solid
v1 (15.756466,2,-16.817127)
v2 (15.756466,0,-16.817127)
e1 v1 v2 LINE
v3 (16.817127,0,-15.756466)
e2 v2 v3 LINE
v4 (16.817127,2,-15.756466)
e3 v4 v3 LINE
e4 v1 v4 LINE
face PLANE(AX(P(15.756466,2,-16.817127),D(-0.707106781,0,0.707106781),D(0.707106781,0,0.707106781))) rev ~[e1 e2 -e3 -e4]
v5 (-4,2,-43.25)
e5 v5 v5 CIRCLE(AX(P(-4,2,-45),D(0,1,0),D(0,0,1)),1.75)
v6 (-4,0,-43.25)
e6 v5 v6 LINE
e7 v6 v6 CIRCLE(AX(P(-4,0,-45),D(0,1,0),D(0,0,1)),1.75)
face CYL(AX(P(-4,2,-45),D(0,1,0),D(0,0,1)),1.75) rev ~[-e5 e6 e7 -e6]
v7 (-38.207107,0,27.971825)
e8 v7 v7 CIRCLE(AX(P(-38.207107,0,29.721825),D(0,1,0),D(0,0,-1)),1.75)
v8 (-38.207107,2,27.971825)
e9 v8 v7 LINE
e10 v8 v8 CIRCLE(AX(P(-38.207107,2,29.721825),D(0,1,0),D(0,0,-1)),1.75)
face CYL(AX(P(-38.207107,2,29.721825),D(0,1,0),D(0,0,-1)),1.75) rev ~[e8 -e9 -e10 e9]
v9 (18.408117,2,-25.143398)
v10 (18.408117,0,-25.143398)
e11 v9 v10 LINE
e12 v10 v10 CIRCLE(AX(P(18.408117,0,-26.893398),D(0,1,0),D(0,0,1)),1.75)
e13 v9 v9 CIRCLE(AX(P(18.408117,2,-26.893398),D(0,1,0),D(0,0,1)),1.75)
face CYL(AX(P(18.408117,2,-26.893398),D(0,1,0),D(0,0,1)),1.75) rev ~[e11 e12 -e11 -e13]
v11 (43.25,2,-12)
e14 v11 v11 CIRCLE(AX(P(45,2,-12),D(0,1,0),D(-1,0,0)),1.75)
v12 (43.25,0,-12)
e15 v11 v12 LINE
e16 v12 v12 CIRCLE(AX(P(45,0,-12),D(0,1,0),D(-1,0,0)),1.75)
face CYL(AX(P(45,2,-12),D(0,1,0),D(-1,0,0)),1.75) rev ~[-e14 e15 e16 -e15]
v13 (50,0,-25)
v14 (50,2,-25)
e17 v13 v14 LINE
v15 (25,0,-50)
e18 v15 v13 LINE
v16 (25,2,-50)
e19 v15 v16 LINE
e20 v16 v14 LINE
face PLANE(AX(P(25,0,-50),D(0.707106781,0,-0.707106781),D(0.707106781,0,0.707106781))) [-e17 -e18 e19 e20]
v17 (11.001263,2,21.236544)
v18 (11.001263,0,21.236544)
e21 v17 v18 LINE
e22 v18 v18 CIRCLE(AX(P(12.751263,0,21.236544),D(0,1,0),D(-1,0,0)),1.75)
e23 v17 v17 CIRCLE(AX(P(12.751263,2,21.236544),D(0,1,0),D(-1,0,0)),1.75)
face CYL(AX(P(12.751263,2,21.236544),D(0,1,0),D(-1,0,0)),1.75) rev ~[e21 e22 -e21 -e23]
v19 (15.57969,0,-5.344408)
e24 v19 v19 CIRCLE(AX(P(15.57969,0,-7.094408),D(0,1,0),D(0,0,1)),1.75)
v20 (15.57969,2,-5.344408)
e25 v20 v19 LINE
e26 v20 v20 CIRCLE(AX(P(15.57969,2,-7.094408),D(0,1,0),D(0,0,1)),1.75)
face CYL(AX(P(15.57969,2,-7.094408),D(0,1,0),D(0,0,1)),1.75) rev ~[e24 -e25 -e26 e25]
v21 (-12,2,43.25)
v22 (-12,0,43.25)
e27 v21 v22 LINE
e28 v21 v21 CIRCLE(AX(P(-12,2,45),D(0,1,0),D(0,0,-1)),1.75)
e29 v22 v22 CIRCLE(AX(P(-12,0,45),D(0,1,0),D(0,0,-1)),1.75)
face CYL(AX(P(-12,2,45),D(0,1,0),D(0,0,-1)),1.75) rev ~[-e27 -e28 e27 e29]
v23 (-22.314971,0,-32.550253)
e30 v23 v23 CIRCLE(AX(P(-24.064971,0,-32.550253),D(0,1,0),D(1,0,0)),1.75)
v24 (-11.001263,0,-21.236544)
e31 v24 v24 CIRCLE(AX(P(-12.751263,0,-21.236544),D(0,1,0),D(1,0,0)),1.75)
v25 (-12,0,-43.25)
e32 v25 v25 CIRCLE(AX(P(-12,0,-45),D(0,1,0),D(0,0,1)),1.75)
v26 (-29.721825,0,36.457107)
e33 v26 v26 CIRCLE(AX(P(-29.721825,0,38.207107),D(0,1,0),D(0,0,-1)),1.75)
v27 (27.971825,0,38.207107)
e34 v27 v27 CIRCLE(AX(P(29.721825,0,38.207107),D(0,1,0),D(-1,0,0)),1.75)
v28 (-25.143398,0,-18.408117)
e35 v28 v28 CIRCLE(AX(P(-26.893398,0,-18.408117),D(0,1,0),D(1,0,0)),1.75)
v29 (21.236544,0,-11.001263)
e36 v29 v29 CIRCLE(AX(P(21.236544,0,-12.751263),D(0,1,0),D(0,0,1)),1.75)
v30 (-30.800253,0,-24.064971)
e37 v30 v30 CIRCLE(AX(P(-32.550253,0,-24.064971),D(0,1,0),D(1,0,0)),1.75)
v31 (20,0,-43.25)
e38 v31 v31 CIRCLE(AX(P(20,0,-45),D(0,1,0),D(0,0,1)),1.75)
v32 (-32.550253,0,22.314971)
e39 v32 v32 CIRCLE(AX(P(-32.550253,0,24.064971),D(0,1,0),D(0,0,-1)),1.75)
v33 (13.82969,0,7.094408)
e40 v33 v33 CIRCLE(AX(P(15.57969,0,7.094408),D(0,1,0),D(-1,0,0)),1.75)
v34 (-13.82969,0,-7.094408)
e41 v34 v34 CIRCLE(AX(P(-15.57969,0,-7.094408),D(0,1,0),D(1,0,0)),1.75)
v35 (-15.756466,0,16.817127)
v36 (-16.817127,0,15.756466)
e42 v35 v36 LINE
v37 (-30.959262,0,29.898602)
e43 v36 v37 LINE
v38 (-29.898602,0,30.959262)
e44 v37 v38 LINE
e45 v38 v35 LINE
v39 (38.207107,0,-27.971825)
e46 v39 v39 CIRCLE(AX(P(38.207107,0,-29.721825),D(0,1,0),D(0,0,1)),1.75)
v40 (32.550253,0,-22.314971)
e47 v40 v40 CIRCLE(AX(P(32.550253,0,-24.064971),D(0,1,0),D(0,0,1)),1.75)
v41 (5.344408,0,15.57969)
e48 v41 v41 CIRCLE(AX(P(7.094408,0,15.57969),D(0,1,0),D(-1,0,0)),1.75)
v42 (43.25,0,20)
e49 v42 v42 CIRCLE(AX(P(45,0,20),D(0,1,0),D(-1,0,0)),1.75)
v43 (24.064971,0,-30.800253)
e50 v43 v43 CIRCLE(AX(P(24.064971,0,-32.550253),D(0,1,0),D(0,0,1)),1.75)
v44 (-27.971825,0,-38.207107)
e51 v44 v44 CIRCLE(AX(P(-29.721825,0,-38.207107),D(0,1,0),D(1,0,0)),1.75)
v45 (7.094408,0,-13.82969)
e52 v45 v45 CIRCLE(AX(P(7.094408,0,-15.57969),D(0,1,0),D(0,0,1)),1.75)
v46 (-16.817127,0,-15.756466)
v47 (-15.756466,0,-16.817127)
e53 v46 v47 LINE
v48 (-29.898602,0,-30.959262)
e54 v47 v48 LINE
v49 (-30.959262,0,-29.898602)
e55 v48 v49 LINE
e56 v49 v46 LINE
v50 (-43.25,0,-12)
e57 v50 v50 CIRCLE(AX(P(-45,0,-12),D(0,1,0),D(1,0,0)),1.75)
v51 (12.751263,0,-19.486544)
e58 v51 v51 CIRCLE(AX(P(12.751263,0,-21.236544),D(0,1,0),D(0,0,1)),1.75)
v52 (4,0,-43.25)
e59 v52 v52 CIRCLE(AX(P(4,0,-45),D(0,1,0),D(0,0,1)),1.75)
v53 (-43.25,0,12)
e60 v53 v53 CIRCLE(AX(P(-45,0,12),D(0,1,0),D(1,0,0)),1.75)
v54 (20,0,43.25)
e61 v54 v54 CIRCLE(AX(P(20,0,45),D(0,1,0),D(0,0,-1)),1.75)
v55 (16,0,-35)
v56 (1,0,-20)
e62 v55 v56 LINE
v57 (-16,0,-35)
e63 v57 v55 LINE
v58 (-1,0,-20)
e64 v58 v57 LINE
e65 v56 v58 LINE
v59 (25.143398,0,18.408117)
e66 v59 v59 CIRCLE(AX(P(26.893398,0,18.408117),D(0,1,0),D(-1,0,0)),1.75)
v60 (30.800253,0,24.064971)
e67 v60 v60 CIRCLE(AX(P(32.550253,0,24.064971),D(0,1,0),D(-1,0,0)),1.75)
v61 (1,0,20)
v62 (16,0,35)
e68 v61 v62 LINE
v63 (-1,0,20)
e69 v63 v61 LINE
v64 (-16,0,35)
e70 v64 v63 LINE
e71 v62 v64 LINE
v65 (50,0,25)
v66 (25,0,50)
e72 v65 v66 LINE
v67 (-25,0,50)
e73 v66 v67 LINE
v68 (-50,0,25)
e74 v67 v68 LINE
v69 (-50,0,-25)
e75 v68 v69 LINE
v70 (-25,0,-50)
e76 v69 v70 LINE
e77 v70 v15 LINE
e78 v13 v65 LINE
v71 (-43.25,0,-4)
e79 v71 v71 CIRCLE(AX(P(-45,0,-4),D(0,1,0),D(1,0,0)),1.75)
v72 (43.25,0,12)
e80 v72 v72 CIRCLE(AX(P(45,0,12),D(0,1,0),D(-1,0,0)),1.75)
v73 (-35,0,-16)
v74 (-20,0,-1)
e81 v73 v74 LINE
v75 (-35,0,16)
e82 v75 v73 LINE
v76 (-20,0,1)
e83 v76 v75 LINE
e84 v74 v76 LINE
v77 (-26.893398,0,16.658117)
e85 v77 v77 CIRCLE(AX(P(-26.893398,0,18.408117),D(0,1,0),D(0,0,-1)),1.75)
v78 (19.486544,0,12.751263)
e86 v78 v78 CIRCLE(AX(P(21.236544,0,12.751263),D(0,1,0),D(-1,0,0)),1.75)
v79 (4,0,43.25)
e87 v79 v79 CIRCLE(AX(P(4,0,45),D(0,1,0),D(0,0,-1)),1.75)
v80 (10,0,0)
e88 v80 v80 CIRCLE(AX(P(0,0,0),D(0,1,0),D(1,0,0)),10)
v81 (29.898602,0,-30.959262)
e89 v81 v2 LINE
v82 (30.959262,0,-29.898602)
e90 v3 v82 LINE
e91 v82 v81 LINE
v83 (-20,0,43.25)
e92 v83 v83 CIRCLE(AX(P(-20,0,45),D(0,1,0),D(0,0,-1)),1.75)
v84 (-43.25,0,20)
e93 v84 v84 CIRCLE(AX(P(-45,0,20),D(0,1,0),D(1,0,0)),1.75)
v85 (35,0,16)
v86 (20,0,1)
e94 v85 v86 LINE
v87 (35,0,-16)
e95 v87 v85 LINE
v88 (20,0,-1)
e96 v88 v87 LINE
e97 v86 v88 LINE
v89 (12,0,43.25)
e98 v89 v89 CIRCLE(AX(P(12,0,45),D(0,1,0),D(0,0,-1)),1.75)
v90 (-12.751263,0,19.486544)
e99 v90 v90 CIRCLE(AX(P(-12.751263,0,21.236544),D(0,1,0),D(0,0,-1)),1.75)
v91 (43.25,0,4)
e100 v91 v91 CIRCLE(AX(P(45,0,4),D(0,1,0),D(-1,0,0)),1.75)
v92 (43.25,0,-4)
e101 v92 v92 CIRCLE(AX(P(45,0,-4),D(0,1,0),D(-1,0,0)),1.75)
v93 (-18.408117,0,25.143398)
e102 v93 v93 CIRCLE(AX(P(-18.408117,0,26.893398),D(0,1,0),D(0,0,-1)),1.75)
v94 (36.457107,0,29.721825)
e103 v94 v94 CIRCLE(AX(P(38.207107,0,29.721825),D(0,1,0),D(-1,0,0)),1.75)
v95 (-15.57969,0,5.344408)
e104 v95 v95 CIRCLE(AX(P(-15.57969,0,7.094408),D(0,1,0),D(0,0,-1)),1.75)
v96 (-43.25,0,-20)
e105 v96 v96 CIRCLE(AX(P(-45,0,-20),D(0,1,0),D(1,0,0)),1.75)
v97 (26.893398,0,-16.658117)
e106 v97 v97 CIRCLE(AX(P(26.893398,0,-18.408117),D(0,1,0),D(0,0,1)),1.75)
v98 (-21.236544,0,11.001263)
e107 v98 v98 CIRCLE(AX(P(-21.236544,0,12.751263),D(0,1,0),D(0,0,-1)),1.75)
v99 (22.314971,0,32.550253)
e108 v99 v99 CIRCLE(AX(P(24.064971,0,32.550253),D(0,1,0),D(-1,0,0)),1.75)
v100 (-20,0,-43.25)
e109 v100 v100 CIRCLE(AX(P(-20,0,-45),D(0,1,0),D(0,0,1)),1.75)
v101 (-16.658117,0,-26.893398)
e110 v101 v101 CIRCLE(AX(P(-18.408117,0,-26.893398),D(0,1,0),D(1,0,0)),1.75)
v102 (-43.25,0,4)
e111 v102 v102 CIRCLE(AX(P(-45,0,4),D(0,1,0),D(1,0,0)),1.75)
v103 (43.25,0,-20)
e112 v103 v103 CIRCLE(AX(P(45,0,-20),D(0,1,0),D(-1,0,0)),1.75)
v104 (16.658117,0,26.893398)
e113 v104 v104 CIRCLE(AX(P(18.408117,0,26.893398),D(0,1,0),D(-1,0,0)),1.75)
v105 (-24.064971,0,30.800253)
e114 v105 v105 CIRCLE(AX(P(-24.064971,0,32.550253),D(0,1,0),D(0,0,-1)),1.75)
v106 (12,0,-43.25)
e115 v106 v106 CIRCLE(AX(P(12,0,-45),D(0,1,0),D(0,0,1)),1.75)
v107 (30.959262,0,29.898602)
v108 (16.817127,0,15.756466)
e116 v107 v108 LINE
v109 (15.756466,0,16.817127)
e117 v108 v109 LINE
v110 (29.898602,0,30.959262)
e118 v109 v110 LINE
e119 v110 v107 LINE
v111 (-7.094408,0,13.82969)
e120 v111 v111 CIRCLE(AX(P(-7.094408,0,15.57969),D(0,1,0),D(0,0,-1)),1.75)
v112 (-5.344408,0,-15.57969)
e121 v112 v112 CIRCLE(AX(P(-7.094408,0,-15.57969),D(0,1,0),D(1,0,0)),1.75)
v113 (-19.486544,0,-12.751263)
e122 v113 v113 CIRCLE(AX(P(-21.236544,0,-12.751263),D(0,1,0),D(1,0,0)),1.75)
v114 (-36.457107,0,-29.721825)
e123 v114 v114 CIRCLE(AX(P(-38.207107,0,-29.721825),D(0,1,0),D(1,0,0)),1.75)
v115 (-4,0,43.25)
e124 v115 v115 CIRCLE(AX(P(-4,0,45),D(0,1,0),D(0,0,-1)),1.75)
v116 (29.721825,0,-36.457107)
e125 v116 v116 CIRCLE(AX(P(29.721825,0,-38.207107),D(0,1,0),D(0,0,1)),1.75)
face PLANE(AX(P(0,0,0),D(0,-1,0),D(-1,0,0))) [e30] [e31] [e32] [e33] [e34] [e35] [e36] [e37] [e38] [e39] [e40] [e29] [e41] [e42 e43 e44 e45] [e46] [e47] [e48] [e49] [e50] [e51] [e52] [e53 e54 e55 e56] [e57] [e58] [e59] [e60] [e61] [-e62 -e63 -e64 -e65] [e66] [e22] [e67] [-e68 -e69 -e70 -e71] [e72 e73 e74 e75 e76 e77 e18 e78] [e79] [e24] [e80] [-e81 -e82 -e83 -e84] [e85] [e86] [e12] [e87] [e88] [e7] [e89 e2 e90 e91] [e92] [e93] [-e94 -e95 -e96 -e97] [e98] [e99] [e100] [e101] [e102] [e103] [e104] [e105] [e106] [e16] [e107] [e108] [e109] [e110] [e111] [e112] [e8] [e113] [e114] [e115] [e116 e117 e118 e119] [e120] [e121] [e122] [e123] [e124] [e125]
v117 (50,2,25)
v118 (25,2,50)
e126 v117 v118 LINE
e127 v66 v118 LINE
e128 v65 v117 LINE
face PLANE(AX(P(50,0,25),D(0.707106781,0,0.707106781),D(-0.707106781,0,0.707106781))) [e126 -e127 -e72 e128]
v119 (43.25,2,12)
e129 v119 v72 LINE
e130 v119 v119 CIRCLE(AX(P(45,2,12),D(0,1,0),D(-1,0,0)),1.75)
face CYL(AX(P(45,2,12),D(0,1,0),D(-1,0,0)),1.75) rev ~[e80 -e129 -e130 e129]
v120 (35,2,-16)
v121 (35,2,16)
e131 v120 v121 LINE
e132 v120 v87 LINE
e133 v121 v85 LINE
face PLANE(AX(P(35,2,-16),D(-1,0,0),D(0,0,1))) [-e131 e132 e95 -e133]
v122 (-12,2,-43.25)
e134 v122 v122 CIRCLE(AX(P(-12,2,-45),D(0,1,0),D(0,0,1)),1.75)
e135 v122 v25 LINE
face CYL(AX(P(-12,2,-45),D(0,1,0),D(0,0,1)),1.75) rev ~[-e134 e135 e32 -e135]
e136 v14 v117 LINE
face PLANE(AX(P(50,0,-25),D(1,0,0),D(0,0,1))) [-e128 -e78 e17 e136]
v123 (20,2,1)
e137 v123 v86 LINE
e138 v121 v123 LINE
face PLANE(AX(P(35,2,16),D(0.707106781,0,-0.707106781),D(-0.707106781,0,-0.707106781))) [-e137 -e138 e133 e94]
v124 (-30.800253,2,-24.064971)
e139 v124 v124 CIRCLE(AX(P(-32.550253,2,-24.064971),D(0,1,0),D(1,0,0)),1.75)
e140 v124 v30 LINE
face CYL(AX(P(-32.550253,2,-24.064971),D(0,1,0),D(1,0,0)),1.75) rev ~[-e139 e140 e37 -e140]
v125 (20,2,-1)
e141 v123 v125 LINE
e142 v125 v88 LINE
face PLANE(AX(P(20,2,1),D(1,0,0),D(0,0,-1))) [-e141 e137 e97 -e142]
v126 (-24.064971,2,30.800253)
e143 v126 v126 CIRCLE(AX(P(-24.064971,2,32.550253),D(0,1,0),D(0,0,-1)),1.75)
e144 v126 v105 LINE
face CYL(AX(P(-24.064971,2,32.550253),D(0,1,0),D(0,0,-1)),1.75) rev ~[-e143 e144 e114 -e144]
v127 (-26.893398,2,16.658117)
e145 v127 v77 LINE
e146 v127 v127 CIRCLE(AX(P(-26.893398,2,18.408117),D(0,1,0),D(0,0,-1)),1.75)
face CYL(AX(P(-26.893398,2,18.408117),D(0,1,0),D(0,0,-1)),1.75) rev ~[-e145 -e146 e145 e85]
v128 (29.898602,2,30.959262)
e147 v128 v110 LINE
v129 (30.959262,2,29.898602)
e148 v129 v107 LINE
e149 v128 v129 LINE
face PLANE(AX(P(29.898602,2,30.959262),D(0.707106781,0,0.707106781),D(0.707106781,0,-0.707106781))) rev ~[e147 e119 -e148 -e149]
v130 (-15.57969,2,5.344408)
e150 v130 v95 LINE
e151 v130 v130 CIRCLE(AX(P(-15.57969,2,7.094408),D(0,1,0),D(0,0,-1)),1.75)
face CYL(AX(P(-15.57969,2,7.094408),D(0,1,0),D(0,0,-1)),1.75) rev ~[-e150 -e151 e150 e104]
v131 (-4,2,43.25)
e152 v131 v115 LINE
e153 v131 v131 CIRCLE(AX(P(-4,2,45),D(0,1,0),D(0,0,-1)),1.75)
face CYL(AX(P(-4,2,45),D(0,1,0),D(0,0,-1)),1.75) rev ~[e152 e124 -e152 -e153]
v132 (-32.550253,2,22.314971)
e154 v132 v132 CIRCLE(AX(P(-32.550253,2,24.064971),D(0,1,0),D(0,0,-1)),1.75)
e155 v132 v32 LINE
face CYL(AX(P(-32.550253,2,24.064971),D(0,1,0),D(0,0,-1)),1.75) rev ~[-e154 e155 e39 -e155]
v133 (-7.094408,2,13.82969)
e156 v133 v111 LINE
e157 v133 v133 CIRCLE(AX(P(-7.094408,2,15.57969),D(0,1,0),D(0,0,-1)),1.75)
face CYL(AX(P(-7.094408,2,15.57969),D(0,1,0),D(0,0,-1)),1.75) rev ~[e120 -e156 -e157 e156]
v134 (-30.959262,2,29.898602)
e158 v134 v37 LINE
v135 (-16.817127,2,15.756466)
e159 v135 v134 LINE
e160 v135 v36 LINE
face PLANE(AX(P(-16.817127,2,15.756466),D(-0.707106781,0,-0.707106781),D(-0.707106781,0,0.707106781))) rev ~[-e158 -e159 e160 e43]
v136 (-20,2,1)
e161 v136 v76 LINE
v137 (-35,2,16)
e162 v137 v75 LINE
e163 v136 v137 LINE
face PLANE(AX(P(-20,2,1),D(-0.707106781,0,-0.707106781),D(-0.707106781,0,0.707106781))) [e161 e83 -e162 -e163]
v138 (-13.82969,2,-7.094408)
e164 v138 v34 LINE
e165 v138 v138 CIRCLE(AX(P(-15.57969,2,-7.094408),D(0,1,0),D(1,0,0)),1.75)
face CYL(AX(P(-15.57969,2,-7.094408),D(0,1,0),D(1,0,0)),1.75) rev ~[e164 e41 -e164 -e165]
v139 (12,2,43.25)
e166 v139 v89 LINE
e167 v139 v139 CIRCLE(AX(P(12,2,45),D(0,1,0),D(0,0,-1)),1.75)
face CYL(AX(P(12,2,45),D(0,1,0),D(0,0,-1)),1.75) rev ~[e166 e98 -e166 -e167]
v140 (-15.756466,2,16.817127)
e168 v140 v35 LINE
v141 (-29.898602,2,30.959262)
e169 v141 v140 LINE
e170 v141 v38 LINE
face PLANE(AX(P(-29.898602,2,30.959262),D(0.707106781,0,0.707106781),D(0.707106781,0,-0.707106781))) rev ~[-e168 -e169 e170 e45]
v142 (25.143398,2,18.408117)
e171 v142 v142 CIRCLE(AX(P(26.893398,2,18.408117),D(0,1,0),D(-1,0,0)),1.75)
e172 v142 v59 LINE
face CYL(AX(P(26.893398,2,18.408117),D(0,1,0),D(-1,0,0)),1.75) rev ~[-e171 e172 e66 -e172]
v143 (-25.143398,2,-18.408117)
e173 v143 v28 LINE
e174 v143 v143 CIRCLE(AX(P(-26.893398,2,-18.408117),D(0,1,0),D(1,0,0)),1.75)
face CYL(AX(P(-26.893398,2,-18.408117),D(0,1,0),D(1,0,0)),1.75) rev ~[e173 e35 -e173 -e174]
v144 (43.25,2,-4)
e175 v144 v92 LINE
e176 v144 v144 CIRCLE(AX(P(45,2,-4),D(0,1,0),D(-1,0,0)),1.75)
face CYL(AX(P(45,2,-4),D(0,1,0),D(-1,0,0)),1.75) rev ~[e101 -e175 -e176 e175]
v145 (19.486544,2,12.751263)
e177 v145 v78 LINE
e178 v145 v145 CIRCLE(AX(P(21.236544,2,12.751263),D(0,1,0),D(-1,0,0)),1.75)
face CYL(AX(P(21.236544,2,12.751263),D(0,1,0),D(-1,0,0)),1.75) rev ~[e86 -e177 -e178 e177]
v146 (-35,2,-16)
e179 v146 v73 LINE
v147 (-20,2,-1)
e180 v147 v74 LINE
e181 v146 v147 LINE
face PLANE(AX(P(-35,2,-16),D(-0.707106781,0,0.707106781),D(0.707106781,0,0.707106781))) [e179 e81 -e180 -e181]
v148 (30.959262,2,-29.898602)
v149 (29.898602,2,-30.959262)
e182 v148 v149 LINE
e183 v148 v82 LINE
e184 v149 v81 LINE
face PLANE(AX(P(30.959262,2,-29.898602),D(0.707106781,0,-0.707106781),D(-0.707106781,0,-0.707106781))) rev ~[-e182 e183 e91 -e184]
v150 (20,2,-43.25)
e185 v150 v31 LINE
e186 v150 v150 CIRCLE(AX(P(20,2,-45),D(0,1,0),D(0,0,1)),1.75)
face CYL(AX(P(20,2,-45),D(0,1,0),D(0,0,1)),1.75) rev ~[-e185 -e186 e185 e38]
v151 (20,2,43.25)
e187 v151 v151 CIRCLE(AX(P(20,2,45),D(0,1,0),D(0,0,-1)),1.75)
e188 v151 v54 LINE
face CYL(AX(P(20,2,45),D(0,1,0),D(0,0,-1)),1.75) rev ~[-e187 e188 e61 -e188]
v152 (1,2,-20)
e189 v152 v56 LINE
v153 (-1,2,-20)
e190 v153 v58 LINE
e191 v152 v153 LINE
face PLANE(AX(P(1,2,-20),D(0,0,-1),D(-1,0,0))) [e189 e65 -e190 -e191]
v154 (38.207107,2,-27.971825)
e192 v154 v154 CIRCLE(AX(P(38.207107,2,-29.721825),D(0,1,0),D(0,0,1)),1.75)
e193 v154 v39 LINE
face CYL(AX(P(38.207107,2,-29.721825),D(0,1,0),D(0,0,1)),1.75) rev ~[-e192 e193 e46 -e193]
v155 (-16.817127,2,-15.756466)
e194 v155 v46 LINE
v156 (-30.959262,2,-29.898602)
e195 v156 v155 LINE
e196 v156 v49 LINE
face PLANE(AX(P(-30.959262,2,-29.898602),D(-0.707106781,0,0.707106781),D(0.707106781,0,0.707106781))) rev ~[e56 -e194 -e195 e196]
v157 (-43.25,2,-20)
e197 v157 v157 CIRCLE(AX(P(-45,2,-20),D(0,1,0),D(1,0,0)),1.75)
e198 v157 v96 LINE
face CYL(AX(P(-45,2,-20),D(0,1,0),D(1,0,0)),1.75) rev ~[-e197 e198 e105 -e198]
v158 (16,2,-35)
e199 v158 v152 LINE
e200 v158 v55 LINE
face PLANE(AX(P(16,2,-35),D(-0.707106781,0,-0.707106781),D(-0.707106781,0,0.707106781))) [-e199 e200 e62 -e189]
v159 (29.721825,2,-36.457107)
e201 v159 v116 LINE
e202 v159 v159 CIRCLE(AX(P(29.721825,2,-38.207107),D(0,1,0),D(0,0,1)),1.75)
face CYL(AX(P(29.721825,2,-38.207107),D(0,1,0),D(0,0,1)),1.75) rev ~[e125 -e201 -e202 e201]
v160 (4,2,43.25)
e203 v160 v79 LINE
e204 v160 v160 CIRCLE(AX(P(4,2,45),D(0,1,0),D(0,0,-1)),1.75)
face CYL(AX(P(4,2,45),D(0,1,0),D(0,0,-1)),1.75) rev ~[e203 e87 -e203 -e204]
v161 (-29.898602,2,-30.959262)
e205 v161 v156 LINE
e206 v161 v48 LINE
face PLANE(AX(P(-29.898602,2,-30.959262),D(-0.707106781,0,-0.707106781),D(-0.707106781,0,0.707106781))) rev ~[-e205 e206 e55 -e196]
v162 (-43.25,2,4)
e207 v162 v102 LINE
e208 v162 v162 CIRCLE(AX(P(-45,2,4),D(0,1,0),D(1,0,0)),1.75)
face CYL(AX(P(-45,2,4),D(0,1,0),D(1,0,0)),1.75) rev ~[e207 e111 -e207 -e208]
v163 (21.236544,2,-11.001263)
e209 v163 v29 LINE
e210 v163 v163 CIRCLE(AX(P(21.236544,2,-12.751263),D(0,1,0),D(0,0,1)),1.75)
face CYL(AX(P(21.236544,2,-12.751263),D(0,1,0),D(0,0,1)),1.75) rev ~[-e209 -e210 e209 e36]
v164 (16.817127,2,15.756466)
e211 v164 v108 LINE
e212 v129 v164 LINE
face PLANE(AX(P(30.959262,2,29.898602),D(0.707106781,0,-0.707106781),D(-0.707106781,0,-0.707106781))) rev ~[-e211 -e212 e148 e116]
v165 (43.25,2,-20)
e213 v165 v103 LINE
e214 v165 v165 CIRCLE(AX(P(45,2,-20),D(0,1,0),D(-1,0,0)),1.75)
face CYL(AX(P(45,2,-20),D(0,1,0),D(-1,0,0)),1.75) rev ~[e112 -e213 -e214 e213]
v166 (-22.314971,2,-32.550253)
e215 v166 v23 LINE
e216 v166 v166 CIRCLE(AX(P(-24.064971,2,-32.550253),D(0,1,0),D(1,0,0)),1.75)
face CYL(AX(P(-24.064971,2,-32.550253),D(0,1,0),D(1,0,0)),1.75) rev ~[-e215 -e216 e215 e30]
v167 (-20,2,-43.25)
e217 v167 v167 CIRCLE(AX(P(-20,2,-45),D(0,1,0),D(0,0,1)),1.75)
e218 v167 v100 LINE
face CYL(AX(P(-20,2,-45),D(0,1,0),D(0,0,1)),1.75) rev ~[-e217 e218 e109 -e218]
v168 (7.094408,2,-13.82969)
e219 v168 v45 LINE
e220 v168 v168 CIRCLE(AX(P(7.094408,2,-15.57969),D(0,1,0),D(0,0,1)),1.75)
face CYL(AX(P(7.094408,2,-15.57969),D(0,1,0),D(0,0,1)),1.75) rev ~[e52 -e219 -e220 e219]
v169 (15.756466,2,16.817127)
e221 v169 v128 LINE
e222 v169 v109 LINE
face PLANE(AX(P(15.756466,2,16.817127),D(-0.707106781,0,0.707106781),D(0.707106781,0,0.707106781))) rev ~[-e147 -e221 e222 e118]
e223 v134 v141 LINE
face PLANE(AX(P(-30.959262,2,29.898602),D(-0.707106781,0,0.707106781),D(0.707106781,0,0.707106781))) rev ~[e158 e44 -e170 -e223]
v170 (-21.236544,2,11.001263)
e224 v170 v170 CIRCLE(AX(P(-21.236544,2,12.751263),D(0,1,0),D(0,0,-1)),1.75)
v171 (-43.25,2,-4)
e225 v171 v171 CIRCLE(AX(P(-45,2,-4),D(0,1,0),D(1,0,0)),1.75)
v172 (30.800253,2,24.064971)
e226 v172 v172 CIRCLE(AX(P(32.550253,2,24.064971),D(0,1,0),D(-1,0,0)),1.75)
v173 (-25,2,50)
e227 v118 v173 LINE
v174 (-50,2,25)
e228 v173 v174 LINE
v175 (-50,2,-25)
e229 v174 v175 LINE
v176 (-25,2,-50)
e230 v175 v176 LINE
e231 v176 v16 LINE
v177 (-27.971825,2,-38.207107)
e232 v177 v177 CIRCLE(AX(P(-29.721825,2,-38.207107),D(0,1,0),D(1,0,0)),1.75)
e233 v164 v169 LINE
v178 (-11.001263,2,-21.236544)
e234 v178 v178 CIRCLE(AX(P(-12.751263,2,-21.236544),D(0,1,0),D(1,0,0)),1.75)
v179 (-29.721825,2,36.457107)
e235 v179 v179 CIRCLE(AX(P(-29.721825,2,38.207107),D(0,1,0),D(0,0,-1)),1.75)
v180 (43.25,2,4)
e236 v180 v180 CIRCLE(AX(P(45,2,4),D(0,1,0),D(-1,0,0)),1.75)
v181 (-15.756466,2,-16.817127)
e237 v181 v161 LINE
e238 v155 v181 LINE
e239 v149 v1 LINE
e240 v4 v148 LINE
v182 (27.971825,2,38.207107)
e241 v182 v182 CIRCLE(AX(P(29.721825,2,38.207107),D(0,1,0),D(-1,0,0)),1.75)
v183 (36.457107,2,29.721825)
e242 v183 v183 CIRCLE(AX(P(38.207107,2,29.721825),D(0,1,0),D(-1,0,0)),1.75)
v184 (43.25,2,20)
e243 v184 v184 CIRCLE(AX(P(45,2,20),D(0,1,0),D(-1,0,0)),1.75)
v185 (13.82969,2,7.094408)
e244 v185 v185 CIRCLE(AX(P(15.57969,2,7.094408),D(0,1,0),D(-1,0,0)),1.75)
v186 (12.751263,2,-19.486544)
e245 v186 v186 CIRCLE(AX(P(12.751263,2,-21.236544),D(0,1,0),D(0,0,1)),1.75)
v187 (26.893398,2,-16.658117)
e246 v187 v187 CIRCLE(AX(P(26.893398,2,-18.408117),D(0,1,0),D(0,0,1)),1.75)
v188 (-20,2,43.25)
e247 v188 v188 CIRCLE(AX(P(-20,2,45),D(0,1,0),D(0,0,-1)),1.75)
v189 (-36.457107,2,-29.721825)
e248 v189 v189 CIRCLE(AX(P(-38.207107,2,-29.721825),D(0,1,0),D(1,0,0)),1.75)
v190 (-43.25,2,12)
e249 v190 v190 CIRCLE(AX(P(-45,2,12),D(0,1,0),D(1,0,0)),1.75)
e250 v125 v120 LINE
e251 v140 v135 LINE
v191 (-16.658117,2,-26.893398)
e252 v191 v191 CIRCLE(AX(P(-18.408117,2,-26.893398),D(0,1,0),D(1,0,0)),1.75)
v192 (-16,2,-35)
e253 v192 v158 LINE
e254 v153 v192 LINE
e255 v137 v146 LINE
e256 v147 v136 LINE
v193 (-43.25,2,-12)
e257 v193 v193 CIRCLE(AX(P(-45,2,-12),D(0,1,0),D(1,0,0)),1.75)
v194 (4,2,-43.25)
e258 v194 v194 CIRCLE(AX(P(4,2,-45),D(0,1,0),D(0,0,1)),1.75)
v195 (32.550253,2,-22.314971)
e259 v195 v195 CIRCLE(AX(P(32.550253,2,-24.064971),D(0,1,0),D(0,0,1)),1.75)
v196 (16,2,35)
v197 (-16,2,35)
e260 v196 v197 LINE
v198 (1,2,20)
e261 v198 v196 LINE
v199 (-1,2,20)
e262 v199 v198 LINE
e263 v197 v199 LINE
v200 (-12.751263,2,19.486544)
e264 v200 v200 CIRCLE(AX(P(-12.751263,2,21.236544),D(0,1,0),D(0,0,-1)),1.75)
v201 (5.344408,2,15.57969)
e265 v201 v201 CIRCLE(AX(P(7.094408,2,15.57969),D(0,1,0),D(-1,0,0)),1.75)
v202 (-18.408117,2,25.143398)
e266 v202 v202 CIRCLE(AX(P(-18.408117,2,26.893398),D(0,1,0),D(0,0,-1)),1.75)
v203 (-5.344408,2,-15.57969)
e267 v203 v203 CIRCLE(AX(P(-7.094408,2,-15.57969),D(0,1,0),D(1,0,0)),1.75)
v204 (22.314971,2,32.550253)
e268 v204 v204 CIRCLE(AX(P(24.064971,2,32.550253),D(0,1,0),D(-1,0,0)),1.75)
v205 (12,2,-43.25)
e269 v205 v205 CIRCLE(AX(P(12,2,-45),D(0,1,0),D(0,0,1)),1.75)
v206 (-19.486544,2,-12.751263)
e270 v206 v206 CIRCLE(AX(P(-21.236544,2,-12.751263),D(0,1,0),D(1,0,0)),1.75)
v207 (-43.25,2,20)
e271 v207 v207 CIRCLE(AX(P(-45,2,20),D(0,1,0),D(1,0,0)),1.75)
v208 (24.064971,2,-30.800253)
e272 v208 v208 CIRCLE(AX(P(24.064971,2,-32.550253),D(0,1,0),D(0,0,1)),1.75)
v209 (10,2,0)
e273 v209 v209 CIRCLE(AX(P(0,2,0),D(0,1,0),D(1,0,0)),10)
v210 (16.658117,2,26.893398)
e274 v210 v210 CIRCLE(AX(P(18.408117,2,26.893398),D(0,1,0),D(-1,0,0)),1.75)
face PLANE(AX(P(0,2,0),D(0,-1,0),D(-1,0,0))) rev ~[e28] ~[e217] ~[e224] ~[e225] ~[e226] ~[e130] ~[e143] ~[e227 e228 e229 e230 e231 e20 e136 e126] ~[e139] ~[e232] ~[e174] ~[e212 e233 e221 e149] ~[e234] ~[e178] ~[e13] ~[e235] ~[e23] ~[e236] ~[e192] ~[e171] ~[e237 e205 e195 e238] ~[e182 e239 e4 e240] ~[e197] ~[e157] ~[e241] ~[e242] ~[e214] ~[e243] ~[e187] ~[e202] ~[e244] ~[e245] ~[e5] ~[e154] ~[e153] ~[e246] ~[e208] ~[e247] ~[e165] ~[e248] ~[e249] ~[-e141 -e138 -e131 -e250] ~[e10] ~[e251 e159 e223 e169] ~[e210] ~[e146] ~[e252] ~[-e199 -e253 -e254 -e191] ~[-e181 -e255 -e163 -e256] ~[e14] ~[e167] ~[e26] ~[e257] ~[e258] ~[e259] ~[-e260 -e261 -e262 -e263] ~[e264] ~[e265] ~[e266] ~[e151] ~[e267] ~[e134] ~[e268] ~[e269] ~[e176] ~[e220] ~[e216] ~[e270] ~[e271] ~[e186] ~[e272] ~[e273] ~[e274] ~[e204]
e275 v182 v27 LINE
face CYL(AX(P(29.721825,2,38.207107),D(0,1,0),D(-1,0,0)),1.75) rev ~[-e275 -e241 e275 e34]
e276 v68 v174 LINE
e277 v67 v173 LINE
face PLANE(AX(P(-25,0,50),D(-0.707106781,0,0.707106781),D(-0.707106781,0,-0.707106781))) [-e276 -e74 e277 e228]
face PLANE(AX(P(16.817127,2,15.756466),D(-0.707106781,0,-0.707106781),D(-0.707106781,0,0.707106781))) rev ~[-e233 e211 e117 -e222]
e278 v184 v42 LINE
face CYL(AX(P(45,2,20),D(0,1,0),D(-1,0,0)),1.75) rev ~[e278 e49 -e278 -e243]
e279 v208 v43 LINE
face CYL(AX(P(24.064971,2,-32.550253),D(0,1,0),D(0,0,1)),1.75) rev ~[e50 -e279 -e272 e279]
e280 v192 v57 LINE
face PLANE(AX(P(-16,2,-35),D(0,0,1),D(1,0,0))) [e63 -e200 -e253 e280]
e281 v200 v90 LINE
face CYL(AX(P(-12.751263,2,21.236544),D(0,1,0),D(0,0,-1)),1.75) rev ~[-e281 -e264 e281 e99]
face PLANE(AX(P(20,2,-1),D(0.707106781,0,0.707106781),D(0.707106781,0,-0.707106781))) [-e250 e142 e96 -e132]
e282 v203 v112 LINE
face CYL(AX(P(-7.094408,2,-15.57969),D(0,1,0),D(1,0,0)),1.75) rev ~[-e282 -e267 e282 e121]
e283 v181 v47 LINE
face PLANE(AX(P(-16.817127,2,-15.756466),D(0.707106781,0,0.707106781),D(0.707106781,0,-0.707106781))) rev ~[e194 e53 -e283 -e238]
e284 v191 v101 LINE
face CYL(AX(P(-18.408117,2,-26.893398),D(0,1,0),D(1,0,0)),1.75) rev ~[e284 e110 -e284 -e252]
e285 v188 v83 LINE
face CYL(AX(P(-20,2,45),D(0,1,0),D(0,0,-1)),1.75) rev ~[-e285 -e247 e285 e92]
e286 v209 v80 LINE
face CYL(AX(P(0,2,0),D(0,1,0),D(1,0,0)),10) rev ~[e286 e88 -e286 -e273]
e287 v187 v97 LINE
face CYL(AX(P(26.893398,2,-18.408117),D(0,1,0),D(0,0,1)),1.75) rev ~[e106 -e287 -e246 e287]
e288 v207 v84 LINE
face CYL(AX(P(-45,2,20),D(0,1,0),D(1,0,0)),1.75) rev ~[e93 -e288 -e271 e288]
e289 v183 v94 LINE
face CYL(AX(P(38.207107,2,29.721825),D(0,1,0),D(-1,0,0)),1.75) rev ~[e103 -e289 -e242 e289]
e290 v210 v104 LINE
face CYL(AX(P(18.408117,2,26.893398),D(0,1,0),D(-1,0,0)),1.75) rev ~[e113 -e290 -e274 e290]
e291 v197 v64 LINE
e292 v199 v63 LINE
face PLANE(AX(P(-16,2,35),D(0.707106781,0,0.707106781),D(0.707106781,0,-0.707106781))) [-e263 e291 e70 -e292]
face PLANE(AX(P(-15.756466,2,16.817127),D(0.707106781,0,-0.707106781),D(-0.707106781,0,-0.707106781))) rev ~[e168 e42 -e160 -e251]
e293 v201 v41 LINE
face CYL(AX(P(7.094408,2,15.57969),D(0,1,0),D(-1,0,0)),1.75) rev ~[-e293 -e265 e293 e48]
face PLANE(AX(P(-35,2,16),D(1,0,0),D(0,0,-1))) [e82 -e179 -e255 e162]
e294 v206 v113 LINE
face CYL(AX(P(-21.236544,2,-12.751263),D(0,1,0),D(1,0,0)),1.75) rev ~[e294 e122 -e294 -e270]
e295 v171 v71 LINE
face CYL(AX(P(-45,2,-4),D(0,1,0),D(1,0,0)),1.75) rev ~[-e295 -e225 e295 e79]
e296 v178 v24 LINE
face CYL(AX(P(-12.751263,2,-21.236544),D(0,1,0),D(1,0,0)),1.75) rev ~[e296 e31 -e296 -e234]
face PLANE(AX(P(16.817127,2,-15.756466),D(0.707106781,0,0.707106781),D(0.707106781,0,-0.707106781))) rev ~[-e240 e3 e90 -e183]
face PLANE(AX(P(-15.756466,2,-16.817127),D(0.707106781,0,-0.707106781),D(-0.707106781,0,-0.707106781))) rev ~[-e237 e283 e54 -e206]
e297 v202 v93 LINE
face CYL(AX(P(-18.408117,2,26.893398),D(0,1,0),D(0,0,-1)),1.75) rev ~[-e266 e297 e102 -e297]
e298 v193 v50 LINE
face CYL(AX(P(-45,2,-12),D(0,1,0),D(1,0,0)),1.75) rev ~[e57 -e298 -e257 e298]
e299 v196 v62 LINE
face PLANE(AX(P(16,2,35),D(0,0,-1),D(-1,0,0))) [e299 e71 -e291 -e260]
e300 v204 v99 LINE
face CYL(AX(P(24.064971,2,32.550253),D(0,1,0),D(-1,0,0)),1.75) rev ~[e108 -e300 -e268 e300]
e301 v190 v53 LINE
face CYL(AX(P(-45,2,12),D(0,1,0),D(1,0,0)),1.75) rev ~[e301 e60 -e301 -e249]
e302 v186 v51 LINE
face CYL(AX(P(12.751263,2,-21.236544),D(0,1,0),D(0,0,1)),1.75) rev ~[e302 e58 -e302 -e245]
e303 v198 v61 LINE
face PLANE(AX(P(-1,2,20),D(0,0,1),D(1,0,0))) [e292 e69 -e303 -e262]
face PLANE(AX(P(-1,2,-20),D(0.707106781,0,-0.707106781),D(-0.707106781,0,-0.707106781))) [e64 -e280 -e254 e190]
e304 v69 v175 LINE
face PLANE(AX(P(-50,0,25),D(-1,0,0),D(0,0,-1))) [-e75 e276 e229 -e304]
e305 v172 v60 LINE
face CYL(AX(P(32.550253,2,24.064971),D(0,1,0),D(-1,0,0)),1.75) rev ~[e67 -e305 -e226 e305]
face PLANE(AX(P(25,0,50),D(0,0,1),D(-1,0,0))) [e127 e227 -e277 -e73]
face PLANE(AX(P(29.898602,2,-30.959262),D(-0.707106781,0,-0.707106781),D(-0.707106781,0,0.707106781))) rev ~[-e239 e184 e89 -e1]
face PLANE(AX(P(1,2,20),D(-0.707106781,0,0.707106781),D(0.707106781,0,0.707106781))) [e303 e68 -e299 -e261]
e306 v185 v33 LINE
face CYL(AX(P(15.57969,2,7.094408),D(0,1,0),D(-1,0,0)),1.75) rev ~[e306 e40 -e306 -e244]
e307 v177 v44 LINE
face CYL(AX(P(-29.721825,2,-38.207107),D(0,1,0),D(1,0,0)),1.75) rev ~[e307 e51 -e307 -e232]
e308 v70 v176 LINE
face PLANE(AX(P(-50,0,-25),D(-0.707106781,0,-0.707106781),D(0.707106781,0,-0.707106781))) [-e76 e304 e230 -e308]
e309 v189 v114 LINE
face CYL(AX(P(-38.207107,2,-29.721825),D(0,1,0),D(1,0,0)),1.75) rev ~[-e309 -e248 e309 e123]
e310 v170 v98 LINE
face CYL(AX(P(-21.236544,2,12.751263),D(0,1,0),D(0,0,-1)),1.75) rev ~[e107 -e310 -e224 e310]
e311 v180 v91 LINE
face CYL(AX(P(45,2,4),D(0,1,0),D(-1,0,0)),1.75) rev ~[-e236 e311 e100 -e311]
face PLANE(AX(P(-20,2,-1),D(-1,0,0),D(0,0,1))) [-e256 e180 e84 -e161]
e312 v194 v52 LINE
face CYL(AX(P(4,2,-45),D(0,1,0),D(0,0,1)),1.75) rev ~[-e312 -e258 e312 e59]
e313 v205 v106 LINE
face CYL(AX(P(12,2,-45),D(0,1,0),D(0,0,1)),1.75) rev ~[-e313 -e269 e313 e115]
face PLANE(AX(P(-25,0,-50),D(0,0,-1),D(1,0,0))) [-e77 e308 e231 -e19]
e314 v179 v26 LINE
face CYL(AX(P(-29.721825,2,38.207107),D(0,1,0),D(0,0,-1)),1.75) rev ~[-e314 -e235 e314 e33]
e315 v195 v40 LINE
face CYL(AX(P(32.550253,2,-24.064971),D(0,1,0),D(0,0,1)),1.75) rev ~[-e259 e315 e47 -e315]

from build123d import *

# Parameters (mm, degrees)
BOSS_EXTRUDE1_DEPTH = 2
SKETCH3_R           = 10
CUT_EXTRUDE2_DEPTH  = 2
SKETCH2_R           = 1.75
CUT_EXTRUDE1_DEPTH  = 2
SKETCH4_R           = 1.75
CUT_EXTRUDE3_DEPTH  = 2
CIRPATTERN1_COUNT   = 4


with BuildPart() as part:
    # Sketch1 → Boss-Extrude1 (new body)
    with BuildSketch(Plane(origin=(0, 0, 0), x_dir=(1, 0, 0), z_dir=(0, 1, 0))):
        Polygon((-25, 50), (25, 50), (50, 25), (50, -25), (25, -50), (-25, -50), (-50, -25), (-50, 25), align=None)
    extrude(amount=BOSS_EXTRUDE1_DEPTH)

    # Sketch3 → Cut-Extrude2 (cut)
    with BuildSketch(Plane(origin=(0, 2, 0), x_dir=(1, 0, 0), z_dir=(0, 1, 0))):
        Circle(SKETCH3_R)
    extrude(amount=-CUT_EXTRUDE2_DEPTH, mode=Mode.SUBTRACT)

    # Sketch2 → Cut-Extrude1 (cut)
    with BuildSketch(Plane(origin=(0, 2, 0), x_dir=(1, 0, 0), z_dir=(0, 1, 0))):
        with Locations((-45, 20)):
            Circle(SKETCH2_R)
        with Locations((-45, 12)):
            Circle(SKETCH2_R)
        with Locations((-45, 4)):
            Circle(SKETCH2_R)
        with Locations((-45, -4)):
            Circle(SKETCH2_R)
        with Locations((-45, -12)):
            Circle(SKETCH2_R)
        with Locations((-45, -20)):
            Circle(SKETCH2_R)
    cut_extrude1 = extrude(amount=-CUT_EXTRUDE1_DEPTH, mode=Mode.SUBTRACT)

    # Sketch4 → Cut-Extrude3 (cut)
    with BuildSketch(Plane(origin=(0, 2, 0), x_dir=(1, 0, 0), z_dir=(0, 1, 0))):
        with Locations((-29.721825407, 38.207106781)):
            Circle(SKETCH4_R)
        with Locations((-24.064971157, 32.550252532)):
            Circle(SKETCH4_R)
        with Locations((-18.408116908, 26.893398282)):
            Circle(SKETCH4_R)
        with Locations((-12.751262658, 21.236544033)):
            Circle(SKETCH4_R)
        with Locations((-7.094408409, 15.579689783)):
            Circle(SKETCH4_R)
        with Locations((-15.579689783, 7.094408409)):
            Circle(SKETCH4_R)
        with Locations((-21.236544033, 12.751262658)):
            Circle(SKETCH4_R)
        with Locations((-26.893398282, 18.408116908)):
            Circle(SKETCH4_R)
        with Locations((-32.550252532, 24.064971157)):
            Circle(SKETCH4_R)
        with Locations((-38.207106781, 29.721825407)):
            Circle(SKETCH4_R)
        Polygon((-30.959262274, 29.898602102), (-16.81712665, 15.756466479), (-15.756466479, 16.81712665), (-29.898602102, 30.959262274), align=None)
        Polygon((-35, 16), (-20, 1), (-20, -1), (-35, -16), align=None)
    cut_extrude3 = extrude(amount=-CUT_EXTRUDE3_DEPTH, mode=Mode.SUBTRACT)

    # CirPattern1: Cut-Extrude1, Cut-Extrude3 ×4 about axis
    cirpattern1_axis = Axis((0, 0, 0), (0, 1, 0))
    for i in range(1, CIRPATTERN1_COUNT):
        add(cut_extrude1.rotate(cirpattern1_axis, i * 360 / CIRPATTERN1_COUNT), mode=Mode.SUBTRACT)
        add(cut_extrude3.rotate(cirpattern1_axis, i * 360 / CIRPATTERN1_COUNT), mode=Mode.SUBTRACT)


solid = part.part
